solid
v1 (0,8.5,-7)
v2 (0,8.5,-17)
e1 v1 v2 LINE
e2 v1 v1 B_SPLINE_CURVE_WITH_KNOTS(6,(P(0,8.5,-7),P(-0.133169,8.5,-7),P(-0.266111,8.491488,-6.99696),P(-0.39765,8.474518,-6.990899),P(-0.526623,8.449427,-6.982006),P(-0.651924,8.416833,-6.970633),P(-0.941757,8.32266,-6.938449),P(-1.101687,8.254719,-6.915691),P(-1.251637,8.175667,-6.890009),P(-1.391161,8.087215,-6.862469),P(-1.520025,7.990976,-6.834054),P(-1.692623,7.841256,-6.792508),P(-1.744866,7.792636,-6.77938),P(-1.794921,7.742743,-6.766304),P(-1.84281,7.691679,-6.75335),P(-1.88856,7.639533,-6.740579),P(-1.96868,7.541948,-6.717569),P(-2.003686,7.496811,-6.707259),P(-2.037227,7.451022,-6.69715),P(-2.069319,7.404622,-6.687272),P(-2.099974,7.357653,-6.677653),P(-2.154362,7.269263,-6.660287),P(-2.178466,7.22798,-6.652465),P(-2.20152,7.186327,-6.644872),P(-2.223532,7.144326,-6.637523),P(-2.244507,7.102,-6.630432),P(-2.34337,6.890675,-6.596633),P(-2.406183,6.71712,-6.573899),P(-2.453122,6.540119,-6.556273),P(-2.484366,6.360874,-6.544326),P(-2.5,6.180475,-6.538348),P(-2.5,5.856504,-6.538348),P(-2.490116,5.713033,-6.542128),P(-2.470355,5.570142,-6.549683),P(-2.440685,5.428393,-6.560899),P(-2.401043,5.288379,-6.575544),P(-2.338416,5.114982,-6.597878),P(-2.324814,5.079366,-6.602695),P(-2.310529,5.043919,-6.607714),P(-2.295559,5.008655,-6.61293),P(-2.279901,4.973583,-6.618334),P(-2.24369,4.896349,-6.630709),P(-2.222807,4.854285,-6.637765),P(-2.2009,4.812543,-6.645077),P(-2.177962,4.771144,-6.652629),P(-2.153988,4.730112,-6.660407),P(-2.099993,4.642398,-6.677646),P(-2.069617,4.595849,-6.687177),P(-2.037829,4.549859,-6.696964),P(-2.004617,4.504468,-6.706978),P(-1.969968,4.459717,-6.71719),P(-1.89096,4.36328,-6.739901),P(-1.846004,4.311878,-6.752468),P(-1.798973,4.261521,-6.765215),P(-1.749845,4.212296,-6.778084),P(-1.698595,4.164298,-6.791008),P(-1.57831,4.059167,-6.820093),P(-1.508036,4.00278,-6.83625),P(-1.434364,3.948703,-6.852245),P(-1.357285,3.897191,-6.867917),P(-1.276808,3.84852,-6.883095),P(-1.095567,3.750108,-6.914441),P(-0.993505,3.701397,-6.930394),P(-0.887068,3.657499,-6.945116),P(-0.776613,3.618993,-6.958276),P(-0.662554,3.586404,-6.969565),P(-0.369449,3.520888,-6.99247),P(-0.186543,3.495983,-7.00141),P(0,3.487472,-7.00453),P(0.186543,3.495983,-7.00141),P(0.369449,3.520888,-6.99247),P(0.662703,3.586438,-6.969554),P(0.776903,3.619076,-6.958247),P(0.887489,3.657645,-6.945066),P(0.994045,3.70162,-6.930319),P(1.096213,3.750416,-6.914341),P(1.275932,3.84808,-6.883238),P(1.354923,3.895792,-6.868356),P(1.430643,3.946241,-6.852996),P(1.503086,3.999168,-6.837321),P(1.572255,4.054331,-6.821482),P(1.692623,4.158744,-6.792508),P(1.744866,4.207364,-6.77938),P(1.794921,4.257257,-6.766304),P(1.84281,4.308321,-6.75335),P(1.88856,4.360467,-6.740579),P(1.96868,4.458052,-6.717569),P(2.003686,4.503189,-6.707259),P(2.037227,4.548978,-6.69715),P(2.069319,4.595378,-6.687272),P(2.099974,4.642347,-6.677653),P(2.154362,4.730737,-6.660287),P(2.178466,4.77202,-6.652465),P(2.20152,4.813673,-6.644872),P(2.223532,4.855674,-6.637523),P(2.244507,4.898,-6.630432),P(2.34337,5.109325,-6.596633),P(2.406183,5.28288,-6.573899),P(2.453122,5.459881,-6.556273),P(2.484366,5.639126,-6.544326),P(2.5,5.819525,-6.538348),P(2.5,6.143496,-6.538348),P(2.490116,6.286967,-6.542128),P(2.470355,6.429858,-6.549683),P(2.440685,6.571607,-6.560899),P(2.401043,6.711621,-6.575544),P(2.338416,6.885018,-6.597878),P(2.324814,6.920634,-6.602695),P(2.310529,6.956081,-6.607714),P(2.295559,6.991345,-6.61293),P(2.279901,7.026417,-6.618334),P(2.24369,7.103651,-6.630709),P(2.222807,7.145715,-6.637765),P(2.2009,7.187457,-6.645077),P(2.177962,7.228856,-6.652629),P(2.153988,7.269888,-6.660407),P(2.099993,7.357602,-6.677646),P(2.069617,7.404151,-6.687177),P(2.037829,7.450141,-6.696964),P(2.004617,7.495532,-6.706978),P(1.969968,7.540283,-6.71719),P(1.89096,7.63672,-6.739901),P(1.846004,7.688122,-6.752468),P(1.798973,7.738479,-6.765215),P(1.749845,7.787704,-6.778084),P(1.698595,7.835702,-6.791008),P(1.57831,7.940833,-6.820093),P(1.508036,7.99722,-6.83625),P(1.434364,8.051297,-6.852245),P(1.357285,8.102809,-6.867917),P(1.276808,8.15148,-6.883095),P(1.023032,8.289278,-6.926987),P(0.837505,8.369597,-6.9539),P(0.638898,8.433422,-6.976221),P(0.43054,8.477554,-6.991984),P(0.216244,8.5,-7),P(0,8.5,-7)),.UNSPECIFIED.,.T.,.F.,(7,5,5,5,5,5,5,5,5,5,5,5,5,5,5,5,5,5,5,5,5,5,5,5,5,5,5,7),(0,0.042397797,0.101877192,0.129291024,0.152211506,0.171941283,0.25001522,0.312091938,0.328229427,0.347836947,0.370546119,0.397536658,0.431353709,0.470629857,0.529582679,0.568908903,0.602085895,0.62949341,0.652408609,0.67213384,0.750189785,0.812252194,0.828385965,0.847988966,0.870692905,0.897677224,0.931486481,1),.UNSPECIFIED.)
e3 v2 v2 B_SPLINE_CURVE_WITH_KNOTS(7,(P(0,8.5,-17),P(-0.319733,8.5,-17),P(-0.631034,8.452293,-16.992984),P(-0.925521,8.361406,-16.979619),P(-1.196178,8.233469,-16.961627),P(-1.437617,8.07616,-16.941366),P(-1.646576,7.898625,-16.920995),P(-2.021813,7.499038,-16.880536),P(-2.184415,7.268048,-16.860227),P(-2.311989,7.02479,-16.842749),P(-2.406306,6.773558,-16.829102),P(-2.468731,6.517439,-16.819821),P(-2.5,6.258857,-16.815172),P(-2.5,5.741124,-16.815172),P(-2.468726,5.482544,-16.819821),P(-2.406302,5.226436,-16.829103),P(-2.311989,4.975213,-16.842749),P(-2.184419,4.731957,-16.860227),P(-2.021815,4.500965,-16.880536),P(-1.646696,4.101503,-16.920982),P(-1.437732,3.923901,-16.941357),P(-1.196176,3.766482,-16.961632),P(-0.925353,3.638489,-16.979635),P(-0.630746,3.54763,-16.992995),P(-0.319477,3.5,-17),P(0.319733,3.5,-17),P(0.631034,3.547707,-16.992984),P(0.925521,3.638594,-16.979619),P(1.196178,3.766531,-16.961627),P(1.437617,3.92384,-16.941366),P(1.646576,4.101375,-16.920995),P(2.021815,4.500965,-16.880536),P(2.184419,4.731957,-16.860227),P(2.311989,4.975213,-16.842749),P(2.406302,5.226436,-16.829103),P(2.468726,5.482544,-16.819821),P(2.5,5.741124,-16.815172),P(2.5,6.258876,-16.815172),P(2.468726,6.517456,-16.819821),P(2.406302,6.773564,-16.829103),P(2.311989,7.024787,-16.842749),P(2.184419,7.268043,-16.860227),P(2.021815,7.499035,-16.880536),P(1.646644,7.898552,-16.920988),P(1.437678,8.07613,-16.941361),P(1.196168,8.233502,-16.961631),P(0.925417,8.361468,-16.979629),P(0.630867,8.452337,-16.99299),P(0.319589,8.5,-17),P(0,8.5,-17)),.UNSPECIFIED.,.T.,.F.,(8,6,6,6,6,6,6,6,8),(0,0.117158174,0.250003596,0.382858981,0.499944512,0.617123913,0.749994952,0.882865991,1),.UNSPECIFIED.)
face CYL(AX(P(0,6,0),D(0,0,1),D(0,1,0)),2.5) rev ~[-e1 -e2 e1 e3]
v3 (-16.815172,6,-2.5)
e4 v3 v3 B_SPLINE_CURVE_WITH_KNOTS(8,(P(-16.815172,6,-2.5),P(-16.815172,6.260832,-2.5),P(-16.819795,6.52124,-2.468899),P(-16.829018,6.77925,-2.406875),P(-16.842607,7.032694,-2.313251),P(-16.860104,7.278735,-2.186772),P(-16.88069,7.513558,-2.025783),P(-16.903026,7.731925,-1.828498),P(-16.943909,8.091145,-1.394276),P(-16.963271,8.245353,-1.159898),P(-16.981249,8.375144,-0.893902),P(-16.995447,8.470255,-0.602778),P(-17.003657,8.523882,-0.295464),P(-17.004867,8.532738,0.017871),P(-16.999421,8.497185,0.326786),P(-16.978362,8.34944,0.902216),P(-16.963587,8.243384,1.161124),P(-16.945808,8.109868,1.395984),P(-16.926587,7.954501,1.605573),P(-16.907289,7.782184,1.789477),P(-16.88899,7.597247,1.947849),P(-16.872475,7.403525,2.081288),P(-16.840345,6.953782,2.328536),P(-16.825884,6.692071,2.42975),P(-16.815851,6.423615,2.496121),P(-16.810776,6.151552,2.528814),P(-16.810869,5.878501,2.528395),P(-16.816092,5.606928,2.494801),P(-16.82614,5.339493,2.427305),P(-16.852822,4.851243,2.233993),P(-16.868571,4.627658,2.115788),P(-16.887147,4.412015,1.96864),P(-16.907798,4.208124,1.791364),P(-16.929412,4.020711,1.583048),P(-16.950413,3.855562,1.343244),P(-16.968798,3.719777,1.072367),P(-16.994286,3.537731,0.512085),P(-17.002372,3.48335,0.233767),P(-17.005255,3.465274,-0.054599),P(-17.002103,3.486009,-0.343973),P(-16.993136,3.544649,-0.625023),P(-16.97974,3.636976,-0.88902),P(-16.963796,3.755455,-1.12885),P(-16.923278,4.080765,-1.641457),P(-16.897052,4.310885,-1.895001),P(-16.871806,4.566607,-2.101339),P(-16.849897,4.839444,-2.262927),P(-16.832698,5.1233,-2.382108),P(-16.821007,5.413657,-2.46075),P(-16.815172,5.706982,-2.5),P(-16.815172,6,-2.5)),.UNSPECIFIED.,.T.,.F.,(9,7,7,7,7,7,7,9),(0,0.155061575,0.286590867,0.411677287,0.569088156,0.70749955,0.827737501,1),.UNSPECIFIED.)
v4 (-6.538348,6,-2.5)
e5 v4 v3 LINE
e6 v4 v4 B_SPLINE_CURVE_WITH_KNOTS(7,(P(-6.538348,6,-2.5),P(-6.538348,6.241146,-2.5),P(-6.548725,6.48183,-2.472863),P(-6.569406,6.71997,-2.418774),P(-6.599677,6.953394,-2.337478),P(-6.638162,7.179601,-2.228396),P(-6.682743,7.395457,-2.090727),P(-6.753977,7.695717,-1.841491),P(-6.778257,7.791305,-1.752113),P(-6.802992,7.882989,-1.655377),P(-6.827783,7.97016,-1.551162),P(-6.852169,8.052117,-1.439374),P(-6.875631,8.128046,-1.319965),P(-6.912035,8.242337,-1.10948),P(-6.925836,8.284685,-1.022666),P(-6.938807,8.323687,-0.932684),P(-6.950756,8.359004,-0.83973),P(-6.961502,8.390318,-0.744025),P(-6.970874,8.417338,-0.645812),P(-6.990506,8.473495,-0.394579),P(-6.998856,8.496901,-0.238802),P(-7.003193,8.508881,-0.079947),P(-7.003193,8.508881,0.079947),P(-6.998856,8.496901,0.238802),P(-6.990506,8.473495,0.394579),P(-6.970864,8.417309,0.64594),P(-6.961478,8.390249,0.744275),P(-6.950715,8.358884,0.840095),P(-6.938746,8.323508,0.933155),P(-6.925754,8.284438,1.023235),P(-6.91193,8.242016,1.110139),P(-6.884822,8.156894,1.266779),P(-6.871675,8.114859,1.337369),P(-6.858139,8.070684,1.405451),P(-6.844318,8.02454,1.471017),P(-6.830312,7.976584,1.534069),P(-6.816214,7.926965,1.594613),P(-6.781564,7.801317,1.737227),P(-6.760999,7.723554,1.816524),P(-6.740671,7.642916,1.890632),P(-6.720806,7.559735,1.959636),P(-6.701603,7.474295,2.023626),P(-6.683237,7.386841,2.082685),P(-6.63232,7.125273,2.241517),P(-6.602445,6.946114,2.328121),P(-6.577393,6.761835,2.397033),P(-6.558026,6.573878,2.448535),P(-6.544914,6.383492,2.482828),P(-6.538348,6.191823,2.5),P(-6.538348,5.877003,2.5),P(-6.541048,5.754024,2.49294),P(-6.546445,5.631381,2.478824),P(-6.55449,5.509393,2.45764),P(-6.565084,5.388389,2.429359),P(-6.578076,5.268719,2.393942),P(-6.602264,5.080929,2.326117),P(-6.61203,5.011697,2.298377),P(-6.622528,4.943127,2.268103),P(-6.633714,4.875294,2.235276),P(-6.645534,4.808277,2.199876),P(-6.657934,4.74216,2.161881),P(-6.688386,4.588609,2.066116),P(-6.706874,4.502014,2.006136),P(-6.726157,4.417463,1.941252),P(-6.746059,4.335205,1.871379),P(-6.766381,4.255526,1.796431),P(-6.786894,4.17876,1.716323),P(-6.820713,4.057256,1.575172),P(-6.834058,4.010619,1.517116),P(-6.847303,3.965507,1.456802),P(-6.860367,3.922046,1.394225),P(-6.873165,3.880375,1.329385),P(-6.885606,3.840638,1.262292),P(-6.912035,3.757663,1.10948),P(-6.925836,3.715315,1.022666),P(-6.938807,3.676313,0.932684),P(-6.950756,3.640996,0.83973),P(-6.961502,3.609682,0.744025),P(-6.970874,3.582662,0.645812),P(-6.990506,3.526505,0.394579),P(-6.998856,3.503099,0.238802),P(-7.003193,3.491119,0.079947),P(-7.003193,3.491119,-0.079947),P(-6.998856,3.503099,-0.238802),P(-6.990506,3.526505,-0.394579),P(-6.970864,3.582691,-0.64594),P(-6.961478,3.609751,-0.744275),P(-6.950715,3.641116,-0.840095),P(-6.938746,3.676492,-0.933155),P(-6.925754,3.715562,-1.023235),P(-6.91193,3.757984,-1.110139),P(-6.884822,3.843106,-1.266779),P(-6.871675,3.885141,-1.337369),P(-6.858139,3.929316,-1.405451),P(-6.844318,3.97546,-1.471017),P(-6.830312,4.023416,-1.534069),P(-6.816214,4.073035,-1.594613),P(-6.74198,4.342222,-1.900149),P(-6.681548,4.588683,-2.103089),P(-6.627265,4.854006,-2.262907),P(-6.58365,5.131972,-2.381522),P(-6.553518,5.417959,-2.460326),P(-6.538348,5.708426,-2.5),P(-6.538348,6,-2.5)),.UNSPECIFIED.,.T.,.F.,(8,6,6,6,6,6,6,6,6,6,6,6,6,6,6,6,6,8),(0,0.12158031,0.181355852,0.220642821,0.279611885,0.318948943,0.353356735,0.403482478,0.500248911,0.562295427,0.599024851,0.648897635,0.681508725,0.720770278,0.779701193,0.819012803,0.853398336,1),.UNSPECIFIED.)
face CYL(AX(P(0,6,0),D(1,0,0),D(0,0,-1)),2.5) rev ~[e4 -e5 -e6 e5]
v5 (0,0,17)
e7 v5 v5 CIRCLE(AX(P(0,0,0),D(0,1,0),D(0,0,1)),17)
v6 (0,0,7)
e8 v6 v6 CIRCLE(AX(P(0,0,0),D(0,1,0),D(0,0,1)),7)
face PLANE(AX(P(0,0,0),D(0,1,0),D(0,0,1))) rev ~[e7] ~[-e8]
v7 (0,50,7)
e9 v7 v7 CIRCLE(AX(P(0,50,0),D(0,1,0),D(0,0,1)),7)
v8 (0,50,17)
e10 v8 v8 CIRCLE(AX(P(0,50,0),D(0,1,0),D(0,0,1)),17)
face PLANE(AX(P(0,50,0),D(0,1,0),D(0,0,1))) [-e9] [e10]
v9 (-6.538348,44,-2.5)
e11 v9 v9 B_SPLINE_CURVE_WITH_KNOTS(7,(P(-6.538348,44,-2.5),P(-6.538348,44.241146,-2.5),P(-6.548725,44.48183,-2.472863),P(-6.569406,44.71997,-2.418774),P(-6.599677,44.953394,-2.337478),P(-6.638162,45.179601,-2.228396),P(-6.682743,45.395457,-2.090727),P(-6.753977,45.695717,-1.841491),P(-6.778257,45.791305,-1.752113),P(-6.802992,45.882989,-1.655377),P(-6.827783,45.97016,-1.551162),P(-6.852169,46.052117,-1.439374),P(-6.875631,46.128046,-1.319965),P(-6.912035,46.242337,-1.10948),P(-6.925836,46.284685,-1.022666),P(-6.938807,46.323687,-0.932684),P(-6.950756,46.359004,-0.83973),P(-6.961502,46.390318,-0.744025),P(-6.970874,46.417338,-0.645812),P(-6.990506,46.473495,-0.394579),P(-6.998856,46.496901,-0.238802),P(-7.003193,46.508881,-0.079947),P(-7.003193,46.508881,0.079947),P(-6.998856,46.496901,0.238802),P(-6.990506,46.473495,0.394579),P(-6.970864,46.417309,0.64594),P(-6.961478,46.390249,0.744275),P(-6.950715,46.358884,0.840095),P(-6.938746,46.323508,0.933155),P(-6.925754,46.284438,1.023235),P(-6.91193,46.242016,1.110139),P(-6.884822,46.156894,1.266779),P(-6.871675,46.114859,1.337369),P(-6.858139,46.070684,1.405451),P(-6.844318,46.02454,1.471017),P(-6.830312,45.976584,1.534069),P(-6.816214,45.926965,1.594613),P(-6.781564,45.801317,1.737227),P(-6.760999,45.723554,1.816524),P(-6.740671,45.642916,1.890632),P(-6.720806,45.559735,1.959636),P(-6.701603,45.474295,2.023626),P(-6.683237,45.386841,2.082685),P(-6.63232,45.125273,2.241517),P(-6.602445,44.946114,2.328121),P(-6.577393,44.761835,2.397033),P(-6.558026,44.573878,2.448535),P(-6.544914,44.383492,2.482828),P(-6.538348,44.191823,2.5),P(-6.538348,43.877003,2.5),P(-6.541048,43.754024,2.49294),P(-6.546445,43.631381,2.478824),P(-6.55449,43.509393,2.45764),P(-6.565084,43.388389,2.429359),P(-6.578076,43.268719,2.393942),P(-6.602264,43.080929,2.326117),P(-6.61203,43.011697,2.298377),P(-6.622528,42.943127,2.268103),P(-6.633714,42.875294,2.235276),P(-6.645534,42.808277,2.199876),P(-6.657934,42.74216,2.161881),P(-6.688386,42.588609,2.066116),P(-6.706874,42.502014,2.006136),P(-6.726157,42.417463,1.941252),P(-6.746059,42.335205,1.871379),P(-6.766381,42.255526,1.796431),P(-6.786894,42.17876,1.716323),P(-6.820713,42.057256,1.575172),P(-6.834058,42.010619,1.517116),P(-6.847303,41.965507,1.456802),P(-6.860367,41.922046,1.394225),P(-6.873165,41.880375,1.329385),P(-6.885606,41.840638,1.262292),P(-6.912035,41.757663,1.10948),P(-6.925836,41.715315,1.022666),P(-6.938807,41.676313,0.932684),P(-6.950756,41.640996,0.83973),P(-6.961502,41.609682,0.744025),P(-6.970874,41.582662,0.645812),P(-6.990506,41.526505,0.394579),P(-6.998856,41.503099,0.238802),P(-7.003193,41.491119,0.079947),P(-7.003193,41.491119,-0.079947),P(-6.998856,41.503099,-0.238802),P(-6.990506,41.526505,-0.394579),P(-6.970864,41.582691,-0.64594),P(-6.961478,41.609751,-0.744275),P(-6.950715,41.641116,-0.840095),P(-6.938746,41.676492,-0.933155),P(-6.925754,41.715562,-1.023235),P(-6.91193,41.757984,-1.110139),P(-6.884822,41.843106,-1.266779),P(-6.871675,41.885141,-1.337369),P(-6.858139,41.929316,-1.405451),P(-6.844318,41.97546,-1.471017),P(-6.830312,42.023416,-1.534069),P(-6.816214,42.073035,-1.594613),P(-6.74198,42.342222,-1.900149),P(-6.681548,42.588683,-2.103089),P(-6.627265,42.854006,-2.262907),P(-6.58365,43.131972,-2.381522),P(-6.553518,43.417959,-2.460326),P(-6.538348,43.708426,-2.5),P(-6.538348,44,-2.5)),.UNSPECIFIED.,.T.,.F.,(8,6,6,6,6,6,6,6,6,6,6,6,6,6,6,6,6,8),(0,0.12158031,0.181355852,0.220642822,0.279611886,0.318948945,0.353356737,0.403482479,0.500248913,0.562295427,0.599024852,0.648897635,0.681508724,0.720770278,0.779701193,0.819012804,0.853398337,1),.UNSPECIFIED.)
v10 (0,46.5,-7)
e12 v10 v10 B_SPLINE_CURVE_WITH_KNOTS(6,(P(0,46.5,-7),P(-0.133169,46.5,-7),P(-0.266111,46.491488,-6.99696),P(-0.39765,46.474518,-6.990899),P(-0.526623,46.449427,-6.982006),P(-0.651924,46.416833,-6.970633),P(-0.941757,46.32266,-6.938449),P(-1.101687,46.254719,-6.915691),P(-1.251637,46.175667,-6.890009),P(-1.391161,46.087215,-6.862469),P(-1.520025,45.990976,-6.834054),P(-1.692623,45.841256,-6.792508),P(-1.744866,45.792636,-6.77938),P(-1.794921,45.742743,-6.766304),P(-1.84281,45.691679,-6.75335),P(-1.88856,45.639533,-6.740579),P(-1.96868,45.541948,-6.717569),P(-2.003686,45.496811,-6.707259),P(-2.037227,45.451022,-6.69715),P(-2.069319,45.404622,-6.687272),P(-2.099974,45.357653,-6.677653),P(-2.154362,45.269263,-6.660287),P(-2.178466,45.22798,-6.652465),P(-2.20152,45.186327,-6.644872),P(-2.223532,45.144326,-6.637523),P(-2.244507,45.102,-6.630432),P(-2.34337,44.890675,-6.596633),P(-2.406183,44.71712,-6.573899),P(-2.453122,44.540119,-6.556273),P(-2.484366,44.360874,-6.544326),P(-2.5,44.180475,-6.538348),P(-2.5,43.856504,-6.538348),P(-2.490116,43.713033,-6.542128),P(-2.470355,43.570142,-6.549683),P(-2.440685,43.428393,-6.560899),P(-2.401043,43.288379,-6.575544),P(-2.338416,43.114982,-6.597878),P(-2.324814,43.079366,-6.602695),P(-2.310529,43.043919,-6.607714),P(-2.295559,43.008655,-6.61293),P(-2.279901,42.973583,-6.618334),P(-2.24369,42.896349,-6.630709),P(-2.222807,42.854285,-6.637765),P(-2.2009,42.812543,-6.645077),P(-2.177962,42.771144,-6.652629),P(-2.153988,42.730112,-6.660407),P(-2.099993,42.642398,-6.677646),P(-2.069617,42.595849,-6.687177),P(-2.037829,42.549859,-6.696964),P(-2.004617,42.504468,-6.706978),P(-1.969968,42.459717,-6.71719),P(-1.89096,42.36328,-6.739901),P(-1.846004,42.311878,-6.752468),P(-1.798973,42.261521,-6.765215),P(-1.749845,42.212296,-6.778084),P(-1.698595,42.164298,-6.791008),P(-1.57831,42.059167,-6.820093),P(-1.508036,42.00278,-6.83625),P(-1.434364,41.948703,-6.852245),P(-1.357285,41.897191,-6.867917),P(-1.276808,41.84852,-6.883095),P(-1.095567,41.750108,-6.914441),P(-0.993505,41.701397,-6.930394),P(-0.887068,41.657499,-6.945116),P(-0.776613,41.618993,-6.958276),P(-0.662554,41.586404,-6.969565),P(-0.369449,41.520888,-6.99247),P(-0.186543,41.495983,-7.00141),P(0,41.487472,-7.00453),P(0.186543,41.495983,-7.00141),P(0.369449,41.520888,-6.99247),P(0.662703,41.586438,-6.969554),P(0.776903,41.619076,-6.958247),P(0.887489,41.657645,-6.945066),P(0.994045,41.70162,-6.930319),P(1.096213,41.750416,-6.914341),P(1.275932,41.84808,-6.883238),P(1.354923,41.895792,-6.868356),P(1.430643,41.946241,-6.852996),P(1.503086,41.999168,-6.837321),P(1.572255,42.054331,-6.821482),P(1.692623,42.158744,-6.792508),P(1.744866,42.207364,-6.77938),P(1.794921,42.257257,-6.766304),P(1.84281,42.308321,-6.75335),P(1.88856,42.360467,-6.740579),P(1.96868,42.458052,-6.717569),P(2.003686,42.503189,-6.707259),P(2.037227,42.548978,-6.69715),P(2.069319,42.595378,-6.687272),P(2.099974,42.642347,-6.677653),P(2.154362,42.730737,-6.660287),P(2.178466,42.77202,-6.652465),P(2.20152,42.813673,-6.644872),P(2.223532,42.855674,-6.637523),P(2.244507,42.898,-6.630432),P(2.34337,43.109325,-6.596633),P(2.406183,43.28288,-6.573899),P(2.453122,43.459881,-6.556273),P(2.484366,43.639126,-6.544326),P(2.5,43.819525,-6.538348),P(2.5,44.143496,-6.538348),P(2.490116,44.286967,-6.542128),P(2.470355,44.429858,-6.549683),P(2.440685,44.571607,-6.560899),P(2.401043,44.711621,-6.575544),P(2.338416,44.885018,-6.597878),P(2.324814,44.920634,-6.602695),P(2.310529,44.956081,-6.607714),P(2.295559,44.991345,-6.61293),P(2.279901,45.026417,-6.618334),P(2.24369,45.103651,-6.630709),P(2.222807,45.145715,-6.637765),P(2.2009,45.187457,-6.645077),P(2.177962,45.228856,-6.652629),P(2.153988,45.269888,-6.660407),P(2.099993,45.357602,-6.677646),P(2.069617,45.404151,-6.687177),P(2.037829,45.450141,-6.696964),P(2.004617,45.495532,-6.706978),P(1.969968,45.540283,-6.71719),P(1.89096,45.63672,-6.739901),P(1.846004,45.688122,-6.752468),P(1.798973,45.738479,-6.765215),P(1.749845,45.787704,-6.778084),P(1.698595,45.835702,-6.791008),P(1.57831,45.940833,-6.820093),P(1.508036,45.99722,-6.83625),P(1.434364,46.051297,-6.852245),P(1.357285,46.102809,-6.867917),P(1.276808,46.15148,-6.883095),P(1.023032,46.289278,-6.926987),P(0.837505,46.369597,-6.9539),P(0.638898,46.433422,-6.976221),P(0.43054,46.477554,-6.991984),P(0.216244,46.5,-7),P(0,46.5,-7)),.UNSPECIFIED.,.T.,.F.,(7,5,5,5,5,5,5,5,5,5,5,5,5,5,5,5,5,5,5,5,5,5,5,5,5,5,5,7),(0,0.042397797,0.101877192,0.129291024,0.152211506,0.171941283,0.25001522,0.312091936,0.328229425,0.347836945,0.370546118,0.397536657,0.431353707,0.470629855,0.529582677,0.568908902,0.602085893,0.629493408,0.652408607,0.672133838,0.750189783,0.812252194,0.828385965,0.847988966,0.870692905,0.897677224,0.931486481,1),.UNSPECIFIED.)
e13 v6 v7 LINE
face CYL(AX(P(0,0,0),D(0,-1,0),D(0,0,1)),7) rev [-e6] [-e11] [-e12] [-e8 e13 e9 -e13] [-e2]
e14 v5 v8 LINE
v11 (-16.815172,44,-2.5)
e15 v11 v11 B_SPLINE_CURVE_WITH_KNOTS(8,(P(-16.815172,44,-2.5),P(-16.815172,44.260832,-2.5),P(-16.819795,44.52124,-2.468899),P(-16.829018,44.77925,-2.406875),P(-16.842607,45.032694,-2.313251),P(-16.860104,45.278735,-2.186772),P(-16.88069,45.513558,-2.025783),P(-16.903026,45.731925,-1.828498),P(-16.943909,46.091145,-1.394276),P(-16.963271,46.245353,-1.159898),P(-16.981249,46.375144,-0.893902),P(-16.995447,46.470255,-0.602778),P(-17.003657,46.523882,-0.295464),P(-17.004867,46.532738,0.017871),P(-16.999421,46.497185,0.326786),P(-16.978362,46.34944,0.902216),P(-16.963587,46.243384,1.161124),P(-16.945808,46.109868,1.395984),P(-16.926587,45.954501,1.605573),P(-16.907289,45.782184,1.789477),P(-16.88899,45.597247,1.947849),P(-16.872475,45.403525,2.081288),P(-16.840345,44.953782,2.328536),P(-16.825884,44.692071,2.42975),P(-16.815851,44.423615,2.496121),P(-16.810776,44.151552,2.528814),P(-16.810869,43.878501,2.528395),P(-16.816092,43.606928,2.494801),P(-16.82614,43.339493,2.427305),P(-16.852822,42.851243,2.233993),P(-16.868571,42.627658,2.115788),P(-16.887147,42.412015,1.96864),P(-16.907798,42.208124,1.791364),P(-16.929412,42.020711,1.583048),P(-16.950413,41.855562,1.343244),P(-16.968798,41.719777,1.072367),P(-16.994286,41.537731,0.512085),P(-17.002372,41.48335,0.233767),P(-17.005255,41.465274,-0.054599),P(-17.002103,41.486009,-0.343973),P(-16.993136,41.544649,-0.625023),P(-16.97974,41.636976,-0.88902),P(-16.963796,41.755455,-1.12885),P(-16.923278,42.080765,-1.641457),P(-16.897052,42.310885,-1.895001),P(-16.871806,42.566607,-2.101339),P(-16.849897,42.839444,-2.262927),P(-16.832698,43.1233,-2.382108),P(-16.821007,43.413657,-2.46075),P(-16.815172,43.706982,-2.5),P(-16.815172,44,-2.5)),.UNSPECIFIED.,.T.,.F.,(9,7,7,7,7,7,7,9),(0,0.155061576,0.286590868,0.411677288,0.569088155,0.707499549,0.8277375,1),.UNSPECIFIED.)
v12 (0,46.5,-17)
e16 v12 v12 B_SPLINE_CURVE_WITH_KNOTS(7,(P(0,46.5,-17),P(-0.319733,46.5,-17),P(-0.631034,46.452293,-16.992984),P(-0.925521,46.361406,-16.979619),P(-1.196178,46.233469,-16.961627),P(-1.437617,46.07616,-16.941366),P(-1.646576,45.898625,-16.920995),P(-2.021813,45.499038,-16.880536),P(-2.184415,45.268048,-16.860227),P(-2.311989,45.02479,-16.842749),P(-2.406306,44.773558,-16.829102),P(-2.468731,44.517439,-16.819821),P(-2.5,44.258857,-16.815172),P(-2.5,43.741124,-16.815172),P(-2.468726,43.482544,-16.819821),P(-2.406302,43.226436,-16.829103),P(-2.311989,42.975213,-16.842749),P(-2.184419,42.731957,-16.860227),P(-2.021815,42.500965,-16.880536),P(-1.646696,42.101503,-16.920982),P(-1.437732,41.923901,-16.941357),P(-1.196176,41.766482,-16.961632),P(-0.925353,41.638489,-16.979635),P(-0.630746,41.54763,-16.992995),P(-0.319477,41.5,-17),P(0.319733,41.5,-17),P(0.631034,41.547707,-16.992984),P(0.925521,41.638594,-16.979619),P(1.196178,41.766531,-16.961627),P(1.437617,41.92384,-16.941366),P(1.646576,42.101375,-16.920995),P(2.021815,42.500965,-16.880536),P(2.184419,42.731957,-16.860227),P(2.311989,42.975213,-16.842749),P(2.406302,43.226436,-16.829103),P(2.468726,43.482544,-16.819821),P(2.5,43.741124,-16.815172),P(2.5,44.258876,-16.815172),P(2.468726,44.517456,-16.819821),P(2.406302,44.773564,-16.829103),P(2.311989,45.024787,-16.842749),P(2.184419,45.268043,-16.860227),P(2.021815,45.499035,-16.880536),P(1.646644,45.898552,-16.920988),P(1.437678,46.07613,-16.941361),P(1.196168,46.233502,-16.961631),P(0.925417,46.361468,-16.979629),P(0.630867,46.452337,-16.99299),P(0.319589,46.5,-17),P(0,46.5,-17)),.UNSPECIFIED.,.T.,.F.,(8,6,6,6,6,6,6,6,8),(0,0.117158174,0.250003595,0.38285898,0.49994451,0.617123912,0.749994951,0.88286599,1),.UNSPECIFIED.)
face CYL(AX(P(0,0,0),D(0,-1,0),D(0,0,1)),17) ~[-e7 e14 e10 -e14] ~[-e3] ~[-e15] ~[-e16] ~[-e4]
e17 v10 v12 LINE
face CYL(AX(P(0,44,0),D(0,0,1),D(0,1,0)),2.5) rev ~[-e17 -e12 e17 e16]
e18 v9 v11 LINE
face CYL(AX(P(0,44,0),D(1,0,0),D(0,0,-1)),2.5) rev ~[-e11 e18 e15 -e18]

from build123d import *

# Parameters (mm, degrees)
SKETCH1_R           = 17
SKETCH1_R_2         = 7
BOSS_EXTRUDE1_DEPTH = 50
SKETCH2_R           = 2.5
CUT_EXTRUDE1_DEPTH  = 56.479726027
SKETCH3_R           = 2.5
CUT_EXTRUDE2_DEPTH  = 56.479726178


with BuildPart() as part:
    # Sketch1 → Boss-Extrude1 (new body)
    with BuildSketch(Plane(origin=(0, 0, 0), x_dir=(1, 0, 0), z_dir=(0, 1, 0))):
        with Locations(Location((0, 0, 0), (0, 0, 270))):
            Circle(SKETCH1_R)
        with Locations(Location((0, 0, 0), (0, 0, 270))):
            Circle(SKETCH1_R_2, mode=Mode.SUBTRACT)
    extrude(amount=BOSS_EXTRUDE1_DEPTH)

    # Sketch2 → Cut-Extrude1 (cut, through all)
    with BuildSketch(Plane.XY):
        with Locations(Location((0, 44, 0), (0, 0, 90))):
            Circle(SKETCH2_R)
        with Locations(Location((0, 6, 0), (0, 0, 90))):
            Circle(SKETCH2_R)
    extrude(amount=-CUT_EXTRUDE1_DEPTH, mode=Mode.SUBTRACT)

    # Sketch3 → Cut-Extrude2 (cut, through all)
    with BuildSketch(Plane(origin=(0, 0, 0), x_dir=(0, 0, -1), z_dir=(1, 0, 0))):
        with Locations((0, 44)):
            Circle(SKETCH3_R)
        with Locations((0, 6)):
            Circle(SKETCH3_R)
    extrude(amount=-CUT_EXTRUDE2_DEPTH, mode=Mode.SUBTRACT)


solid = part.part
